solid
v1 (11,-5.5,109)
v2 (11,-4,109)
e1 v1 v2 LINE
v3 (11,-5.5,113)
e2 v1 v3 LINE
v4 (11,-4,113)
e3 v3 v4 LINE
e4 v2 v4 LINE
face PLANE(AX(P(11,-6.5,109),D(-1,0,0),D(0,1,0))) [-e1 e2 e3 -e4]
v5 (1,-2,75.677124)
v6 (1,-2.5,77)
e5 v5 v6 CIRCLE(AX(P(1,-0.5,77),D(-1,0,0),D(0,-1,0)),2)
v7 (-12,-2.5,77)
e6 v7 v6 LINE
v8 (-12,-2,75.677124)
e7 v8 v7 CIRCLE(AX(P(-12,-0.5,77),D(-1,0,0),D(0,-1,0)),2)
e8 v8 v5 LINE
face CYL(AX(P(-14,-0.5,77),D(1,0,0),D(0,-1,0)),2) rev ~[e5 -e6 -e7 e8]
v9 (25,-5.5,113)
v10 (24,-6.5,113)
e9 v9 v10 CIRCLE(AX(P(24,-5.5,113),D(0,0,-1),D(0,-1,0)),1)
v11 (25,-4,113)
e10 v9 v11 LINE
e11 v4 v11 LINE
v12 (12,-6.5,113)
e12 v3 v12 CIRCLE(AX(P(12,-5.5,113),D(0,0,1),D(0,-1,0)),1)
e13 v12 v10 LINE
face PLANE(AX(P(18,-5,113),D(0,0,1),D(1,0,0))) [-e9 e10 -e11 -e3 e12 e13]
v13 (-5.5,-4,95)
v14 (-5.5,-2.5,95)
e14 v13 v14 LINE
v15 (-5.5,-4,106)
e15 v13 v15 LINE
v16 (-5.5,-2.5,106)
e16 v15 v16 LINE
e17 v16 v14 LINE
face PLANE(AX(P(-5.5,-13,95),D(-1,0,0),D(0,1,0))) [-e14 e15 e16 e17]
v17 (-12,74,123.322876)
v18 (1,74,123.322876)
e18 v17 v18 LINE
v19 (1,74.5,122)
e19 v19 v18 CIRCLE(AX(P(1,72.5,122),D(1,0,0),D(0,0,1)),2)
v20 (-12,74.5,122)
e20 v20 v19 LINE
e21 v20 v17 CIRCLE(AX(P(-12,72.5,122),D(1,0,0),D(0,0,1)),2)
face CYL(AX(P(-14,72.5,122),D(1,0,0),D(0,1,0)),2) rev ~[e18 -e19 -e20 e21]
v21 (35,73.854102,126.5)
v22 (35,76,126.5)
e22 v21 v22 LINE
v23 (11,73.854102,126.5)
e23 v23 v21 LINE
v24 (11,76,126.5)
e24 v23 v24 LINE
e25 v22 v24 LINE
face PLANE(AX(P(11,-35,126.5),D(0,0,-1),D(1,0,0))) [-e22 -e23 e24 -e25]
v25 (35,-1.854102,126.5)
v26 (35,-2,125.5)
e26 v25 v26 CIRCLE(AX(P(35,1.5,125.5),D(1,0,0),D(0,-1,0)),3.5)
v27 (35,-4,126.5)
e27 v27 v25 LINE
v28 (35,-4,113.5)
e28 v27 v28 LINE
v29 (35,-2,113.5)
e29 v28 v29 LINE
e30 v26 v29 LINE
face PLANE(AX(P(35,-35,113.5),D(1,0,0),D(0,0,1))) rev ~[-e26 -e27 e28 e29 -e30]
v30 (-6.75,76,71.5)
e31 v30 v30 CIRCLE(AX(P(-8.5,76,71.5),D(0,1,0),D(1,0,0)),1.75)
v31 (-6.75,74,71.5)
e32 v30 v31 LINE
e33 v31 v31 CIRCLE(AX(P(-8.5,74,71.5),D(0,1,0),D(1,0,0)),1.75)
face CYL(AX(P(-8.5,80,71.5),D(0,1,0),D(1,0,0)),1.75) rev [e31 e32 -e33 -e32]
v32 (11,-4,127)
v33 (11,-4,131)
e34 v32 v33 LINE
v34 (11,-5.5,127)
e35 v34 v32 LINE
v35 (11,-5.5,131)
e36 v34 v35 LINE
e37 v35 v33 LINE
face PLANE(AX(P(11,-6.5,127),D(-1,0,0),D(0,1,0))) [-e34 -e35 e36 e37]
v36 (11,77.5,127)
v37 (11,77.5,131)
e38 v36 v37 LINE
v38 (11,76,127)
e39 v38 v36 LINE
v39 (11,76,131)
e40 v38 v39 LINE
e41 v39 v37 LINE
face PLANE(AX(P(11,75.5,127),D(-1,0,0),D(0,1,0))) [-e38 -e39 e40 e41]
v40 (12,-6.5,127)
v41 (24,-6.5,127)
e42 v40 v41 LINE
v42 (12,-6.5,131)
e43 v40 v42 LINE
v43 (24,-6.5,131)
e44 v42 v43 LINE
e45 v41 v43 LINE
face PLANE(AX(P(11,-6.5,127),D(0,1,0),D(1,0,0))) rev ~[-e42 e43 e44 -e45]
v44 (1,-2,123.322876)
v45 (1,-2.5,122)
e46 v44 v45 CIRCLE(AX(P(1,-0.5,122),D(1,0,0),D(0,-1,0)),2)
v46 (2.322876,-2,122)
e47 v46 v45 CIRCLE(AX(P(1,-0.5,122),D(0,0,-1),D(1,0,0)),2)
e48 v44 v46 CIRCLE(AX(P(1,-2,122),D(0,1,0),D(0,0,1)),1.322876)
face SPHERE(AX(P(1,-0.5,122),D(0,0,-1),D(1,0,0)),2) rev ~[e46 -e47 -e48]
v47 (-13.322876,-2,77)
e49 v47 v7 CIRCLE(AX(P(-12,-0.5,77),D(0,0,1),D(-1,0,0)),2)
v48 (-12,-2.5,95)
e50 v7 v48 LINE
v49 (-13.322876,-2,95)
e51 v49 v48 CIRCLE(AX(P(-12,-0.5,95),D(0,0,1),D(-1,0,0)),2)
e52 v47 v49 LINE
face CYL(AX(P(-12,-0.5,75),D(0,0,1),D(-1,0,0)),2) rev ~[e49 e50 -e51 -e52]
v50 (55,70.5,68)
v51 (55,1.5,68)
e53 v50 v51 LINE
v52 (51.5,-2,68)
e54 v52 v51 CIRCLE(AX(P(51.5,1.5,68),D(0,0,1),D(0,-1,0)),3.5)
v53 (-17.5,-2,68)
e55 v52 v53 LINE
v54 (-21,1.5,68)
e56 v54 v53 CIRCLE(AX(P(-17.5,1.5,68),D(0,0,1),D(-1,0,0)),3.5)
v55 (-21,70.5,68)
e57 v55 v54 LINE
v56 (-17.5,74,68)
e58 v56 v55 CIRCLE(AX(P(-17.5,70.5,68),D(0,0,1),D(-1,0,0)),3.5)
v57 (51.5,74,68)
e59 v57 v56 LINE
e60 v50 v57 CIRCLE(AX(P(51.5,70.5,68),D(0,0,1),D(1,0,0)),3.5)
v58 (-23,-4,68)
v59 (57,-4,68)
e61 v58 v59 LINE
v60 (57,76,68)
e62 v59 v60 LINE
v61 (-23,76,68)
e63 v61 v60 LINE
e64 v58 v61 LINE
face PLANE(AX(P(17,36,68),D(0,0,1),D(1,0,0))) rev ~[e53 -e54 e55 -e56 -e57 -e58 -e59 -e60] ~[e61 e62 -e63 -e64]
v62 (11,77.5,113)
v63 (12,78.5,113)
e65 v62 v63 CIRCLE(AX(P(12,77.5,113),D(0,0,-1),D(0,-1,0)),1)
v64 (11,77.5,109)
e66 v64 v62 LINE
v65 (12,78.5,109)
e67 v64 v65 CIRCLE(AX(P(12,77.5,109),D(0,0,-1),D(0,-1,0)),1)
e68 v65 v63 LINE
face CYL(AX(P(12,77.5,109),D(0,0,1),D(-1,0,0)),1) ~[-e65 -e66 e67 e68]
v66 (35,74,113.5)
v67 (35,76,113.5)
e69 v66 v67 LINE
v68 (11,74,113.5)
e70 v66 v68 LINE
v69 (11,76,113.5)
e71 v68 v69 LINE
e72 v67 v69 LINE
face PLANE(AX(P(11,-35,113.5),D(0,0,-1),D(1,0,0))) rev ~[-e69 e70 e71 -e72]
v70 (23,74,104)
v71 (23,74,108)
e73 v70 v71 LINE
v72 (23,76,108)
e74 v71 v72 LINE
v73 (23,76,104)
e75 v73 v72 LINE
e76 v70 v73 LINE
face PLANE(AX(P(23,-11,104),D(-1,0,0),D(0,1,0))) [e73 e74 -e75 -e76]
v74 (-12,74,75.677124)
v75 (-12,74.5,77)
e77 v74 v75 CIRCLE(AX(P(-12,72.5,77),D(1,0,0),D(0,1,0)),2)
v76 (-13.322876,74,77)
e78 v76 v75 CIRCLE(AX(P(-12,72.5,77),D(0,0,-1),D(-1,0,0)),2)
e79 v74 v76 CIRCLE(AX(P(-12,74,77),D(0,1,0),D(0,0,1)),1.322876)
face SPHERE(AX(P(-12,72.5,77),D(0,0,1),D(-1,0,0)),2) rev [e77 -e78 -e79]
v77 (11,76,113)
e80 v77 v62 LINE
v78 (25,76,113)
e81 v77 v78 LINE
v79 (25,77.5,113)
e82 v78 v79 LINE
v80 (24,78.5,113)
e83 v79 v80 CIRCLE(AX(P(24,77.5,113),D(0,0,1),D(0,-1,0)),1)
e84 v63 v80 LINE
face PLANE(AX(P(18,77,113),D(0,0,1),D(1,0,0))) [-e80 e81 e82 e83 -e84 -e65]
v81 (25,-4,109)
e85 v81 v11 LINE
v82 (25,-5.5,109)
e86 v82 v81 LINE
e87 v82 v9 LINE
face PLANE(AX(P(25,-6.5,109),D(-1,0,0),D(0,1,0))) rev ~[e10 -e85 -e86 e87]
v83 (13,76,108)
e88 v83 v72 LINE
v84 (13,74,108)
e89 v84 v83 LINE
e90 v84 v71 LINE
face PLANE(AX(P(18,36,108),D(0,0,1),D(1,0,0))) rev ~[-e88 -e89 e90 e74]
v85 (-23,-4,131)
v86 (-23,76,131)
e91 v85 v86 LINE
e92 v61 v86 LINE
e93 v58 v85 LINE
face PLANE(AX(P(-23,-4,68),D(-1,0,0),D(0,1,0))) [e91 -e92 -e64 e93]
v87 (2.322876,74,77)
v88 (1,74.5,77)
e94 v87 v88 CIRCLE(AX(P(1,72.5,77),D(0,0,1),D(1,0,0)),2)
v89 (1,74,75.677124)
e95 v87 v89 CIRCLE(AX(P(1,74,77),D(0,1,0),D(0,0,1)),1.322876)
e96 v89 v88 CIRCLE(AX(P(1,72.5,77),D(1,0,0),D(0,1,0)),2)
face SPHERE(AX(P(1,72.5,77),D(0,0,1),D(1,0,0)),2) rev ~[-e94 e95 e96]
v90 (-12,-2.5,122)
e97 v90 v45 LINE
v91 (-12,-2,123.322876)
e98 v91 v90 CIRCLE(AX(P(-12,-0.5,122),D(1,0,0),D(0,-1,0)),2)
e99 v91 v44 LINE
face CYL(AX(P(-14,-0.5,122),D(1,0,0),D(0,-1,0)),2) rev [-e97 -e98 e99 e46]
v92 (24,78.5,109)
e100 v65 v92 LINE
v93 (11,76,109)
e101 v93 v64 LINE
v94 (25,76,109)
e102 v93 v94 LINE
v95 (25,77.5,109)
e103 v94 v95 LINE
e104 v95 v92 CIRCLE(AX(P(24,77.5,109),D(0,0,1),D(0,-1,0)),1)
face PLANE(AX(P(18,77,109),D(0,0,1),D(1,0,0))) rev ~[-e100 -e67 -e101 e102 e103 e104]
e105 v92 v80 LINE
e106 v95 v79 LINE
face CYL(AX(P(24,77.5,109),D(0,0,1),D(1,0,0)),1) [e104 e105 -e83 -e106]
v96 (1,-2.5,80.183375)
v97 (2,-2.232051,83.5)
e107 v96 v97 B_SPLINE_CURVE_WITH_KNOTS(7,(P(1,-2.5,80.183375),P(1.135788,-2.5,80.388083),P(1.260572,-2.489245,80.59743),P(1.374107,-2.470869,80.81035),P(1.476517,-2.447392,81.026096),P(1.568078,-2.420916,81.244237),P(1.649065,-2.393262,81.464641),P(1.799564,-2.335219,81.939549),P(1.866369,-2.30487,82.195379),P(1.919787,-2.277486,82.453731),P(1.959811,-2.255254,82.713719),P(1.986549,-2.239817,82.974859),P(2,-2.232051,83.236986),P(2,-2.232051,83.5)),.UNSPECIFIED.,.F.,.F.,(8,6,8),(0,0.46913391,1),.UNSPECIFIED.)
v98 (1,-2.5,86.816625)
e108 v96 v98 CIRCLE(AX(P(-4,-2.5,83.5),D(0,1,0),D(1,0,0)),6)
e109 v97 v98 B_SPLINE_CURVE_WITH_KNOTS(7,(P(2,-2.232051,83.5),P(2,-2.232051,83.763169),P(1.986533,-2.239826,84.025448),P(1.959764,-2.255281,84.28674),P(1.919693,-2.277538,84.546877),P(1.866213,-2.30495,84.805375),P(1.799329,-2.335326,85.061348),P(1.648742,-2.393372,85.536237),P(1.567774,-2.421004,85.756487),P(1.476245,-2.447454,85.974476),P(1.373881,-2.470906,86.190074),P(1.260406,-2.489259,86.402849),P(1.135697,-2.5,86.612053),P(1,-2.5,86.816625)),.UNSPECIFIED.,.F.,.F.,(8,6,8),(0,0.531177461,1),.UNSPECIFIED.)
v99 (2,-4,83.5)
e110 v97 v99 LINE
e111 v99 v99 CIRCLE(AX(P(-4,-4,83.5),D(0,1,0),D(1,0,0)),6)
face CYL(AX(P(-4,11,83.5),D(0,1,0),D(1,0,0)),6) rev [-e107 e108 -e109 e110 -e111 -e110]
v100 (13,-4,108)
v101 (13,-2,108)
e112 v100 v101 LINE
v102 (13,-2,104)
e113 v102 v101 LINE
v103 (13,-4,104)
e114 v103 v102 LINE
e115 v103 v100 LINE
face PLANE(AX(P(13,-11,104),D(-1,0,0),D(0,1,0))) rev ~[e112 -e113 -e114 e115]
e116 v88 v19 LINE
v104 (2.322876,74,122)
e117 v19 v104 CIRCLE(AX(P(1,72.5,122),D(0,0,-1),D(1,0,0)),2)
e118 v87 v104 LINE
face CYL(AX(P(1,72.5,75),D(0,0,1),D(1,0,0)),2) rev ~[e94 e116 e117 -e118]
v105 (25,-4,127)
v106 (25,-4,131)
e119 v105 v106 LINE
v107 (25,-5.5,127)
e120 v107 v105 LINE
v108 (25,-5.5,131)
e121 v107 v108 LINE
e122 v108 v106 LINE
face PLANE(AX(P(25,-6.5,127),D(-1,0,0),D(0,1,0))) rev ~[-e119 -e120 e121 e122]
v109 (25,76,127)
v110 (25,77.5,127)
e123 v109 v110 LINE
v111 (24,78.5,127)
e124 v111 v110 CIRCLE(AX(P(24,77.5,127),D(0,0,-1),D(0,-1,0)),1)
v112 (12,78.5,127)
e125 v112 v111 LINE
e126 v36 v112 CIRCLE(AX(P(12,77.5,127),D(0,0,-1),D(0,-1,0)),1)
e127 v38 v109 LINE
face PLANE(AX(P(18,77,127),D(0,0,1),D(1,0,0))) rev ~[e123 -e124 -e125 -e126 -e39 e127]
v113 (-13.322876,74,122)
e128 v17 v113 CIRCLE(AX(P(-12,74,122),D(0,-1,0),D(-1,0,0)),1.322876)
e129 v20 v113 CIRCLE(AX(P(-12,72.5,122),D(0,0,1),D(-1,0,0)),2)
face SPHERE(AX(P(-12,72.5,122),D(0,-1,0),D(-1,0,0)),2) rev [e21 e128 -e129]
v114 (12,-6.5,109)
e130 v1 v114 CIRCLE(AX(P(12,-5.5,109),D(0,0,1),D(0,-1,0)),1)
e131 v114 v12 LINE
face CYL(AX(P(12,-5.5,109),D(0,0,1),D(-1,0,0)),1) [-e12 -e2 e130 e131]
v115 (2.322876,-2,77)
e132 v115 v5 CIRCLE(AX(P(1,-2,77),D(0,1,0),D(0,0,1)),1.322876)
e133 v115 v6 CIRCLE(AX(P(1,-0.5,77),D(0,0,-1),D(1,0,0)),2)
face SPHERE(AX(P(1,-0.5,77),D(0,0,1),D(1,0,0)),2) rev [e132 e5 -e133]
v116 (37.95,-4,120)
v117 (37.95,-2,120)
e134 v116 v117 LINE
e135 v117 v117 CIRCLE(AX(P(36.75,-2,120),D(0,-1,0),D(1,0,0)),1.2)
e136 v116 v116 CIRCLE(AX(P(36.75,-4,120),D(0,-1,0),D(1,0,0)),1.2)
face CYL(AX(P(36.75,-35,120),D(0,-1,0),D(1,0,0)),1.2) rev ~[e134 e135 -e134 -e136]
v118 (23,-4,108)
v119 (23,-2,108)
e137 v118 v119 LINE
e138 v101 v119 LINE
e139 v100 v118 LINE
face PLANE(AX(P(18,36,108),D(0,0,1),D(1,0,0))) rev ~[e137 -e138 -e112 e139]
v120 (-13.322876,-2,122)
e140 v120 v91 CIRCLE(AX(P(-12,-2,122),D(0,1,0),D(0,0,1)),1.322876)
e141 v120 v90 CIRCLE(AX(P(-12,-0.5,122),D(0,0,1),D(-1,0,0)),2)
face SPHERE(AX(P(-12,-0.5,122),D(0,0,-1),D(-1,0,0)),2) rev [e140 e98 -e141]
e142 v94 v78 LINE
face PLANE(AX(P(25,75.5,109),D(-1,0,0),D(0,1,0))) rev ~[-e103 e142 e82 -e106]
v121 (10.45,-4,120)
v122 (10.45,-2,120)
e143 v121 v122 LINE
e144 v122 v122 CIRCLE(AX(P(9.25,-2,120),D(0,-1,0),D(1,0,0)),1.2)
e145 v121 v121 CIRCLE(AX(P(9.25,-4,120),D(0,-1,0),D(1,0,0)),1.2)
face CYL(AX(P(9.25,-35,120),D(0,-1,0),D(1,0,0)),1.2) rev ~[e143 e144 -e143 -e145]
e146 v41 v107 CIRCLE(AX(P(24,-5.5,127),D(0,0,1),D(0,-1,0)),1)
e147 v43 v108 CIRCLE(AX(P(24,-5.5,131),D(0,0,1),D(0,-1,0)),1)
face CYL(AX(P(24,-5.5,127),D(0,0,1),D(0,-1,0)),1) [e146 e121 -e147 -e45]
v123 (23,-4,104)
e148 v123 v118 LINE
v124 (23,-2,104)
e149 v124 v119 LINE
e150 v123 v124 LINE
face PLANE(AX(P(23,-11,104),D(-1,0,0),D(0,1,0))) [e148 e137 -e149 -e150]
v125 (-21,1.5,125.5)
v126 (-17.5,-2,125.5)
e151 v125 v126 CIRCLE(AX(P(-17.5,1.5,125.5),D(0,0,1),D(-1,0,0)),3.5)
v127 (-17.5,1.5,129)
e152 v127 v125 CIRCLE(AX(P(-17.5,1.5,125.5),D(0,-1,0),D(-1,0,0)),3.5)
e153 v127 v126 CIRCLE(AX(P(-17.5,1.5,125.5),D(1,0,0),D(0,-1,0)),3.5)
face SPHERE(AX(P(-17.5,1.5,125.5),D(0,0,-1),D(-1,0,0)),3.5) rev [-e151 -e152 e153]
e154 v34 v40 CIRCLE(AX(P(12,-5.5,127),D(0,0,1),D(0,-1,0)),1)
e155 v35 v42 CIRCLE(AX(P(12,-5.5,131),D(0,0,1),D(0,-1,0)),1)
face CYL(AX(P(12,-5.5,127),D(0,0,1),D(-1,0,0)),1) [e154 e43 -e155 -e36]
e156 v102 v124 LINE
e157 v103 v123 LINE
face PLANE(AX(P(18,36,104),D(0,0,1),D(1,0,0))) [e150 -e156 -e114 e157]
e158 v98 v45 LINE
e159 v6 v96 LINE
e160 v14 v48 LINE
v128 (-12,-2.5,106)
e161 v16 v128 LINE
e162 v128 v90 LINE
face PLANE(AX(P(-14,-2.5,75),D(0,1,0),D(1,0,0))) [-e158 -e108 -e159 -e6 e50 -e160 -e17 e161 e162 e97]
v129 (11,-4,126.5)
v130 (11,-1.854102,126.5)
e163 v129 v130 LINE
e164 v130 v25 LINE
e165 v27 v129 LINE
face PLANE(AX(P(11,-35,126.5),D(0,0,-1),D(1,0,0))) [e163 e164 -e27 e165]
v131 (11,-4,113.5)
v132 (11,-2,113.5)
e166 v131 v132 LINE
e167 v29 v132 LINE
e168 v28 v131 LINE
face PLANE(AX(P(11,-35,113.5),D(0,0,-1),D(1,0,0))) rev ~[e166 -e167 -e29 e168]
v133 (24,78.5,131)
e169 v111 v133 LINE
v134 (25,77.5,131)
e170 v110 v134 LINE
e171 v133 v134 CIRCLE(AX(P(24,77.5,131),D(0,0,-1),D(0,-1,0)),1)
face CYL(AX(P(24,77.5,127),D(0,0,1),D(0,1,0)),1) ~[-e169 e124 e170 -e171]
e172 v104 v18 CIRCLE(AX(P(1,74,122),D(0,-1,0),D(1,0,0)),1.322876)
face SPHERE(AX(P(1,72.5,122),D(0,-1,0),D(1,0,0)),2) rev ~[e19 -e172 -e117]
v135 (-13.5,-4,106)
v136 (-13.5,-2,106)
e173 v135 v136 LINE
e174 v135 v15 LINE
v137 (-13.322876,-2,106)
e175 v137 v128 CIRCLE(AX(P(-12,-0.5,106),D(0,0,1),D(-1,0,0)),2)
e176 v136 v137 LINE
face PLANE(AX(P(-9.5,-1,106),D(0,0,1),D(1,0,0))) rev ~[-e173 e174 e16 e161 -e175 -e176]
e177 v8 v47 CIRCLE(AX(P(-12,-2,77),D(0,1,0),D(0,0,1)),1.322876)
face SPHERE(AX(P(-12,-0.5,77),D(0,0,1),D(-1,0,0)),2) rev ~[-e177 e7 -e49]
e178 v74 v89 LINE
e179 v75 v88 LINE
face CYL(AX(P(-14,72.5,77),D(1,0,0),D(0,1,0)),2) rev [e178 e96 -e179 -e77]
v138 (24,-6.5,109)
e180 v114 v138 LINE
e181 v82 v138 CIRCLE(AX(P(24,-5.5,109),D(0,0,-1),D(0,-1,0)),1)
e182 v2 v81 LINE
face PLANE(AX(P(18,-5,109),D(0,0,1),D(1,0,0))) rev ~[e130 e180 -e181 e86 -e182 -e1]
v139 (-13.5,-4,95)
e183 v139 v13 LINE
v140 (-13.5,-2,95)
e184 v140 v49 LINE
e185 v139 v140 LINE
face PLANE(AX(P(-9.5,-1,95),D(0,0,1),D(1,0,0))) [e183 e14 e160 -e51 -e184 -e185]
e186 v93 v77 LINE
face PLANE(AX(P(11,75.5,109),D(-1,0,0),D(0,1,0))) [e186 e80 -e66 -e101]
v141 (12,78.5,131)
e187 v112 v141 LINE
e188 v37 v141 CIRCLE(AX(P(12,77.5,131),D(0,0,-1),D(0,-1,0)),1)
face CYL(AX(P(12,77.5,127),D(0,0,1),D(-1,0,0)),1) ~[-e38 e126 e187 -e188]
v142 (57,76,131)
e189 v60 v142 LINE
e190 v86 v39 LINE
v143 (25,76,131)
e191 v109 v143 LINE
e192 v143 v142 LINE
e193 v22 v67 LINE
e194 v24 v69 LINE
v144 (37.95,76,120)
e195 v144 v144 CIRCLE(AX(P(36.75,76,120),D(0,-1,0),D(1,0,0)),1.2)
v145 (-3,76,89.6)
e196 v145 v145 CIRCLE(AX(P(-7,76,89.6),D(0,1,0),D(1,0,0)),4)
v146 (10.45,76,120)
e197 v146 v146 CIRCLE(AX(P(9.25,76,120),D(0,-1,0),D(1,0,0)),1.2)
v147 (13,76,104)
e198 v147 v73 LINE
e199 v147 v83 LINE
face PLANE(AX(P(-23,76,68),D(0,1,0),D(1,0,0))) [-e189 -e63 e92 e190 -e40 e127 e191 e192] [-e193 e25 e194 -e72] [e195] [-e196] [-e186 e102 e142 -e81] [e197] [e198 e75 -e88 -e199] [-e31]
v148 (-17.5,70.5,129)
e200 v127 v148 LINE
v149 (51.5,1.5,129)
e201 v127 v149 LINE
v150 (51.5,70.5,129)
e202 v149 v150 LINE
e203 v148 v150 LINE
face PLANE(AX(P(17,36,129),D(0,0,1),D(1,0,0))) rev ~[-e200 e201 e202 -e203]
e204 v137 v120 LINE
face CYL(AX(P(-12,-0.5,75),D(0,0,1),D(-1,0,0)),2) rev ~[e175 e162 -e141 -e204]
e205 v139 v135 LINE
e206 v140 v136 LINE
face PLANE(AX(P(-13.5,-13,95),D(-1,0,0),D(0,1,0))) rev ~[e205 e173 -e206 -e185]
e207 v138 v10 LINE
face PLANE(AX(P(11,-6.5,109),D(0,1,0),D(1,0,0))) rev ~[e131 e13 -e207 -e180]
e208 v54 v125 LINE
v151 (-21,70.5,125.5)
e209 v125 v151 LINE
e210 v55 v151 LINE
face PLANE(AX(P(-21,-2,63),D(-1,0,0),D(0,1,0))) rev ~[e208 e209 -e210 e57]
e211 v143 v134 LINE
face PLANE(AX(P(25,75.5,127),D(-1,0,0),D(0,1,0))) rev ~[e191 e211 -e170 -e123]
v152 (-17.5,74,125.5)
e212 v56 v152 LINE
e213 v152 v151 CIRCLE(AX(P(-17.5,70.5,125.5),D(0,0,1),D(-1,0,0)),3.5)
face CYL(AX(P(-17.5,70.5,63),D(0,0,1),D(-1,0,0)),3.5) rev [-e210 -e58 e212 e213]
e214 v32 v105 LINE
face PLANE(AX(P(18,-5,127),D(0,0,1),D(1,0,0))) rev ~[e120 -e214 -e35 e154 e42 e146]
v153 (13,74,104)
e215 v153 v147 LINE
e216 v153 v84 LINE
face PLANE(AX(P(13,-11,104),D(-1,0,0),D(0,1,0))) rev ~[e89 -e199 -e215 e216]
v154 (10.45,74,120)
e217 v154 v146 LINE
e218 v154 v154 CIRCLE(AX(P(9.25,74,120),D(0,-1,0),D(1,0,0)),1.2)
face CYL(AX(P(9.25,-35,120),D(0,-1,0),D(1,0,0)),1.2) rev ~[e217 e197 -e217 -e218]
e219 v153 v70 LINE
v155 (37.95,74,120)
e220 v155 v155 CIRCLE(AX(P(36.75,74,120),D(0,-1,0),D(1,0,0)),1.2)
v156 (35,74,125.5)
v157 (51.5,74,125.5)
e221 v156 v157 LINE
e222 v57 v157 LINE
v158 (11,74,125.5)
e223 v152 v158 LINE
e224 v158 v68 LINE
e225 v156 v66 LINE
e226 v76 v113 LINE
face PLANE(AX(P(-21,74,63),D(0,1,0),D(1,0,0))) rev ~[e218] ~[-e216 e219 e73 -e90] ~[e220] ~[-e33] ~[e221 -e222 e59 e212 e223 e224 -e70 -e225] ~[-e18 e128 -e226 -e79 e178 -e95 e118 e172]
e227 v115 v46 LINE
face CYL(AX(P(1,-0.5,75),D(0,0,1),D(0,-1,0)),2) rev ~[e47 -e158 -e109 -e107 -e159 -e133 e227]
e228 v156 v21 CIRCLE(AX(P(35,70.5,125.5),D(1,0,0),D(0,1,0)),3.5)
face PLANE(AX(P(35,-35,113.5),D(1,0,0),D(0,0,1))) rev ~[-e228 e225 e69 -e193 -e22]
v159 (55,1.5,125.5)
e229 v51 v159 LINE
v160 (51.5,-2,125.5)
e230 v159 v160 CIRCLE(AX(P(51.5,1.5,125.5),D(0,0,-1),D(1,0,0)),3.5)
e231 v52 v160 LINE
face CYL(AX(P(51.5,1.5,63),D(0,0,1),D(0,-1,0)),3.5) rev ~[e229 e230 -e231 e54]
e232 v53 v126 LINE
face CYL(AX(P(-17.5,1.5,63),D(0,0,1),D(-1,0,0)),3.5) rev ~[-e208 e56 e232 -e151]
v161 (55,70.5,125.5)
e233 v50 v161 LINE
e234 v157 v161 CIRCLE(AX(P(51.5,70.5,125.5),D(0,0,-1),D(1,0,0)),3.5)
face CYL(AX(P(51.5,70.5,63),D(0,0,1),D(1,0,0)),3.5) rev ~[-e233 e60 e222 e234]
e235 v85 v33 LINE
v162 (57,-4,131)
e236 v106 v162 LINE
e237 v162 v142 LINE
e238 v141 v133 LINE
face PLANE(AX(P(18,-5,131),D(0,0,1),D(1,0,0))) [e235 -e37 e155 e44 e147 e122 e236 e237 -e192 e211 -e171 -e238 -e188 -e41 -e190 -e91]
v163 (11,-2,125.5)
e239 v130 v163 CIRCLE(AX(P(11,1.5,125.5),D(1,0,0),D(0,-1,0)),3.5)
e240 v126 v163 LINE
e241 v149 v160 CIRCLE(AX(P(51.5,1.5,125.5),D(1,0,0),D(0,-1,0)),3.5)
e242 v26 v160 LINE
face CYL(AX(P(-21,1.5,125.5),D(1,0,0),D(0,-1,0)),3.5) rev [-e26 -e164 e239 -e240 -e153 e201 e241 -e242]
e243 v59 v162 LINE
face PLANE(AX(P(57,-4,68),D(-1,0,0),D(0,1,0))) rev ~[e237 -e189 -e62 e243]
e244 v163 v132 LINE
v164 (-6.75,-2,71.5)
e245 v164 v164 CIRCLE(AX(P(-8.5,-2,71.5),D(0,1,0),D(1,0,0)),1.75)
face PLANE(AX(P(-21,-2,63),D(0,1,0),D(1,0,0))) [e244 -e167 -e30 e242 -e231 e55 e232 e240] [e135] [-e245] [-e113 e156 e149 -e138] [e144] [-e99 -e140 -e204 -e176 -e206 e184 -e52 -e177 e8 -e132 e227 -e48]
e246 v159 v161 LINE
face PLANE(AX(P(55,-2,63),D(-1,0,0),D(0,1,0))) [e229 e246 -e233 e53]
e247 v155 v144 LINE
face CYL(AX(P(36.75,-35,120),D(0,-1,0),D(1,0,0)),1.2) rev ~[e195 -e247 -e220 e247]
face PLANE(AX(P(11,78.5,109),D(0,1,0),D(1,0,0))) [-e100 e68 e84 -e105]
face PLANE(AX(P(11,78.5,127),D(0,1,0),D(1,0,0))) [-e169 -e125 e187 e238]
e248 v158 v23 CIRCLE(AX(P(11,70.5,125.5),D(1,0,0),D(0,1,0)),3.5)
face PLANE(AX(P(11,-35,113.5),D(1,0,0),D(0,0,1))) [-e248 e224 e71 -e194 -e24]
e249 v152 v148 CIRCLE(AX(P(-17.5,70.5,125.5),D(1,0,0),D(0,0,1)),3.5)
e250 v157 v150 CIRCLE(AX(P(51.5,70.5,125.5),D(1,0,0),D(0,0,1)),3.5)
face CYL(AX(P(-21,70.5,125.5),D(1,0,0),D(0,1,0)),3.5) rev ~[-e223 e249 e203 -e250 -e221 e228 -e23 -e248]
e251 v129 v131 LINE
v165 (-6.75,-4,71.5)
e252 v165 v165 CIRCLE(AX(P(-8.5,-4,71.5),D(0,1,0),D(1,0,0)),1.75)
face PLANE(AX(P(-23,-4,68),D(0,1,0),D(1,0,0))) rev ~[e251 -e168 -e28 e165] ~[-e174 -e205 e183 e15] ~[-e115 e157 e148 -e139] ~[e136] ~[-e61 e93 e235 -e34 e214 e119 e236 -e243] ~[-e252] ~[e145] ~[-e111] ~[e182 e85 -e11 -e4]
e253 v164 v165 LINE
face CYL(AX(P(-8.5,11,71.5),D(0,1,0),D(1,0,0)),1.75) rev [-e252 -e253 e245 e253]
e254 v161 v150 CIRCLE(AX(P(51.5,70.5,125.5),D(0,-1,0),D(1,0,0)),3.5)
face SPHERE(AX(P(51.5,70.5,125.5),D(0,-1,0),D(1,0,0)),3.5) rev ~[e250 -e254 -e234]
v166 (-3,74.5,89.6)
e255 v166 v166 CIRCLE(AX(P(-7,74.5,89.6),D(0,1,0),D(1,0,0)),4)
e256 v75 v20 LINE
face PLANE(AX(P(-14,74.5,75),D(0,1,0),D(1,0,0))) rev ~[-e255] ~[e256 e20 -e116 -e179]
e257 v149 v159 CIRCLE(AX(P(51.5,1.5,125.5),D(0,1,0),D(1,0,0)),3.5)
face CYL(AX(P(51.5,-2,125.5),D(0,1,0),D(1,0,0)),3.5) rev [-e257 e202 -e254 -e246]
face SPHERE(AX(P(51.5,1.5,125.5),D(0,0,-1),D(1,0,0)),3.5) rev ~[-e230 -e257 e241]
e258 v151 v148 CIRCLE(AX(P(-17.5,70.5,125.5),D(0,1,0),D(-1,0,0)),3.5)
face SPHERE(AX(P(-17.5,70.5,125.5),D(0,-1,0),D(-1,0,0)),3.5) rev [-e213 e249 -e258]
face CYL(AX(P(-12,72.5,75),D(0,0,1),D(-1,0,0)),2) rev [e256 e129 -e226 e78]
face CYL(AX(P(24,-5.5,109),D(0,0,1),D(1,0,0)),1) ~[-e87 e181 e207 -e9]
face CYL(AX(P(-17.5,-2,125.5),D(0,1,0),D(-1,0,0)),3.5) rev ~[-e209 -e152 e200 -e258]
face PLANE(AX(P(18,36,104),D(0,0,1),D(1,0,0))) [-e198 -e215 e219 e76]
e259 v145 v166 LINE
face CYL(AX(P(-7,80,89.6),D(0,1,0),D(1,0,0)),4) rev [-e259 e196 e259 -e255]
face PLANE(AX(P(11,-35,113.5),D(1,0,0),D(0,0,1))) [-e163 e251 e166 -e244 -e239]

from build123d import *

# Parameters (mm, degrees)
BOX065_W               = 10
BOX065_H               = 94
BOX065_DEPTH           = 4
BOX062_W               = 14
BOX062_H               = 3
BOX062_DEPTH           = 4
BOX061_W               = 14
BOX061_H               = 3
BOX061_DEPTH           = 4
BOX063_W               = 14
BOX063_H               = 3
BOX063_DEPTH           = 4
BOX064_W               = 14
BOX064_H               = 3
BOX064_DEPTH           = 4
SKETCH017_R            = 1.2
SKETCH017_W            = 24
SKETCH017_H            = 13
PAD012_DEPTH           = 140
CYLINDER080_R          = 6
CYLINDER080_DEPTH      = 31
CYLINDER080_ROLL_ANGLE = 90
CYLINDER078_R          = 1.75
CYLINDER078_DEPTH      = 31
CYLINDER078_ROLL_ANGLE = 90
BOX059_W               = 17
BOX059_H               = 77
BOX059_DEPTH           = 49
FILLET018013005_R      = 2
CYLINDER083_R          = 4
CYLINDER083_DEPTH      = 31
CYLINDER083_ROLL_ANGLE = 90
CYLINDER079_R          = 1.75
CYLINDER079_DEPTH      = 31
CYLINDER079_ROLL_ANGLE = 90
BOX058_W               = 8
BOX058_H               = 24
BOX058_DEPTH           = 11
BOX057_W               = 76
BOX057_H               = 76
BOX057_DEPTH           = 66
FILLET018013003_R      = 3.5
BOX060_W               = 80
BOX060_H               = 80
BOX060_DEPTH           = 63
FILLET018013006_R      = 1


with BuildPart() as cubo:
    # Box065 → Box065 (new body)
    with BuildSketch(Plane(origin=(13, -11, 104), x_dir=(1, 0, 0), z_dir=(0, 0, 1))):
        with Locations((5, 47)):
            Rectangle(BOX065_W, BOX065_H)
    extrude(amount=BOX065_DEPTH)


with BuildPart() as cubo009:
    # Box062 → Box062 (new body)
    with BuildSketch(Plane(origin=(11, 75.5, 127), x_dir=(1, 0, 0), z_dir=(0, 0, 1))):
        with Locations((7, 1.5)):
            Rectangle(BOX062_W, BOX062_H)
    extrude(amount=BOX062_DEPTH)


with BuildPart() as cubo008:
    # Box061 → Box061 (new body)
    with BuildSketch(Plane(origin=(11, 75.5, 109), x_dir=(1, 0, 0), z_dir=(0, 0, 1))):
        with Locations((7, 1.5)):
            Rectangle(BOX061_W, BOX061_H)
    extrude(amount=BOX061_DEPTH)


with BuildPart() as cubo010:
    # Box063 → Box063 (new body)
    with BuildSketch(Plane(origin=(11, -6.5, 109), x_dir=(1, 0, 0), z_dir=(0, 0, 1))):
        with Locations((7, 1.5)):
            Rectangle(BOX063_W, BOX063_H)
    extrude(amount=BOX063_DEPTH)


with BuildPart() as cubo011:
    # Box064 → Box064 (new body)
    with BuildSketch(Plane(origin=(11, -6.5, 127), x_dir=(1, 0, 0), z_dir=(0, 0, 1))):
        with Locations((7, 1.5)):
            Rectangle(BOX064_W, BOX064_H)
    extrude(amount=BOX064_DEPTH)


with BuildPart() as pad012:
    # Sketch017 → Pad012 (new body)
    with BuildSketch(Plane(origin=(-0.25, -35, 0), x_dir=(1, 0, 0), z_dir=(0, -1, 0))):
        with Locations((37, 120)):
            Circle(SKETCH017_R)
        with Locations((9.5, 120)):
            Circle(SKETCH017_R)
        with Locations((23.25, 120)):
            Rectangle(SKETCH017_W, SKETCH017_H)
    extrude(amount=-PAD012_DEPTH)


with BuildPart() as cylinder107:
    # Cylinder080 → Cylinder080 (new body)
    with BuildSketch(Plane.XY):
        Circle(CYLINDER080_R)
    extrude(amount=CYLINDER080_DEPTH)


with BuildPart() as cylinder107_1:
    # Cylinder080 roll: moved
    add(cylinder107.part.rotate(Axis((0, 0, 0), (1, 0, 0)), CYLINDER080_ROLL_ANGLE))


with BuildPart() as cylinder107_2:
    # Cylinder080 placement: moved
    add(cylinder107_1.part.moved(Location((-4, 11, 83.5))))


with BuildPart() as cylinder105:
    # Cylinder078 → Cylinder078 (new body)
    with BuildSketch(Plane.XY):
        Circle(CYLINDER078_R)
    extrude(amount=CYLINDER078_DEPTH)


with BuildPart() as cylinder105_1:
    # Cylinder078 roll: moved
    add(cylinder105.part.rotate(Axis((0, 0, 0), (1, 0, 0)), CYLINDER078_ROLL_ANGLE))


with BuildPart() as cylinder105_2:
    # Cylinder078 placement: moved
    add(cylinder105_1.part.moved(Location((-8.5, 11, 71.5))))


with BuildPart() as fillet018013005:
    # Box059 → Box059 (new body)
    with BuildSketch(Plane(origin=(-14, -2.5, 75), x_dir=(1, 0, 0), z_dir=(0, 0, 1))):
        with Locations((8.5, 38.5)):
            Rectangle(BOX059_W, BOX059_H)
    extrude(amount=BOX059_DEPTH)

    # Fillet018013005
    fillet018013005_edges = [fillet018013005.edges().sort_by_distance(p)[0] for p in [
        (-14, -2.5, 99.5),
        (-14, 36, 124),
        (-14, 74.5, 99.5),
        (-14, 36, 75),
        (3, -2.5, 99.5),
        (3, 36, 124),
        (3, 74.5, 99.5),
        (3, 36, 75),
        (-5.5, -2.5, 75),
        (-5.5, -2.5, 124),
        (-5.5, 74.5, 75),
        (-5.5, 74.5, 124),
    ]]
    fillet(fillet018013005_edges, radius=FILLET018013005_R)


with BuildPart() as cylinder108:
    # Cylinder083 → Cylinder083 (new body)
    with BuildSketch(Plane.XY):
        Circle(CYLINDER083_R)
    extrude(amount=CYLINDER083_DEPTH)


with BuildPart() as cylinder108_1:
    # Cylinder083 roll: moved
    add(cylinder108.part.rotate(Axis((0, 0, 0), (1, 0, 0)), CYLINDER083_ROLL_ANGLE))


with BuildPart() as cylinder108_2:
    # Cylinder083 placement: moved
    add(cylinder108_1.part.moved(Location((-7, 80, 89.6))))


with BuildPart() as cylinder106:
    # Cylinder079 → Cylinder079 (new body)
    with BuildSketch(Plane.XY):
        Circle(CYLINDER079_R)
    extrude(amount=CYLINDER079_DEPTH)


with BuildPart() as cylinder106_1:
    # Cylinder079 roll: moved
    add(cylinder106.part.rotate(Axis((0, 0, 0), (1, 0, 0)), CYLINDER079_ROLL_ANGLE))


with BuildPart() as cylinder106_2:
    # Cylinder079 placement: moved
    add(cylinder106_1.part.moved(Location((-8.5, 80, 71.5))))


with BuildPart() as fusion061:
    # Box058 → Box058 (new body)
    with BuildSketch(Plane(origin=(-13.5, -13, 95), x_dir=(1, 0, 0), z_dir=(0, 0, 1))):
        with Locations((4, 12)):
            Rectangle(BOX058_W, BOX058_H)
    extrude(amount=BOX058_DEPTH)

    # Fusion061: union Cylinder107, Cylinder105, Fillet018013005, Cylinder108, Cylinder106
    add(cylinder107_2.part)
    add(cylinder105_2.part)
    add(fillet018013005.part)
    add(cylinder108_2.part)
    add(cylinder106_2.part)


with BuildPart() as fillet018013003:
    # Box057 → Box057 (new body)
    with BuildSketch(Plane(origin=(-21, -2, 87), x_dir=(1, 0, 0), z_dir=(0, 0, 1))):
        with Locations((38, 38)):
            Rectangle(BOX057_W, BOX057_H)
    extrude(amount=BOX057_DEPTH)

    # Fillet018013003
    fillet018013003_edges = [fillet018013003.edges().sort_by_distance(p)[0] for p in [
        (-21, -2, 120),
        (-21, 36, 153),
        (-21, 74, 120),
        (55, -2, 120),
        (55, 36, 153),
        (55, 74, 120),
        (17, -2, 153),
        (17, 74, 153),
    ]]
    fillet(fillet018013003_edges, radius=FILLET018013003_R)


with BuildPart() as fillet018013003_1:
    # Fillet018013003 placement: moved
    add(fillet018013003.part.moved(Location((0, 0, -24))))


with BuildPart() as body_src:
    # Box060 → Box060 (new body)
    with BuildSketch(Plane(origin=(-23, -4, 68), x_dir=(1, 0, 0), z_dir=(0, 0, 1))):
        with Locations((40, 40)):
            Rectangle(BOX060_W, BOX060_H)
    extrude(amount=BOX060_DEPTH)

    # Cut103: cut Fillet018013003
    add(fillet018013003_1.part, mode=Mode.SUBTRACT)

    # Cut104: cut Fusion061
    add(fusion061.part, mode=Mode.SUBTRACT)

    # Cut105: cut Pad012
    add(pad012.part, mode=Mode.SUBTRACT)

    # Fusion062: union Cubo009, Cubo008, Cubo010, Cubo011
    add(cubo009.part)
    add(cubo008.part)
    add(cubo010.part)
    add(cubo011.part)

    # Fillet018013006
    fillet018013006_edges = [body_src.edges().sort_by_distance(p)[0] for p in [
        (25, -6.5, 129),
        (11, -6.5, 129),
        (11, -6.5, 111),
        (25, -6.5, 111),
        (25, 78.5, 129),
        (11, 78.5, 129),
        (25, 78.5, 111),
        (11, 78.5, 111),
    ]]
    fillet(fillet018013006_edges, radius=FILLET018013006_R)

    # Cut107: cut Cubo
    add(cubo.part, mode=Mode.SUBTRACT)


solid = body_src.part
